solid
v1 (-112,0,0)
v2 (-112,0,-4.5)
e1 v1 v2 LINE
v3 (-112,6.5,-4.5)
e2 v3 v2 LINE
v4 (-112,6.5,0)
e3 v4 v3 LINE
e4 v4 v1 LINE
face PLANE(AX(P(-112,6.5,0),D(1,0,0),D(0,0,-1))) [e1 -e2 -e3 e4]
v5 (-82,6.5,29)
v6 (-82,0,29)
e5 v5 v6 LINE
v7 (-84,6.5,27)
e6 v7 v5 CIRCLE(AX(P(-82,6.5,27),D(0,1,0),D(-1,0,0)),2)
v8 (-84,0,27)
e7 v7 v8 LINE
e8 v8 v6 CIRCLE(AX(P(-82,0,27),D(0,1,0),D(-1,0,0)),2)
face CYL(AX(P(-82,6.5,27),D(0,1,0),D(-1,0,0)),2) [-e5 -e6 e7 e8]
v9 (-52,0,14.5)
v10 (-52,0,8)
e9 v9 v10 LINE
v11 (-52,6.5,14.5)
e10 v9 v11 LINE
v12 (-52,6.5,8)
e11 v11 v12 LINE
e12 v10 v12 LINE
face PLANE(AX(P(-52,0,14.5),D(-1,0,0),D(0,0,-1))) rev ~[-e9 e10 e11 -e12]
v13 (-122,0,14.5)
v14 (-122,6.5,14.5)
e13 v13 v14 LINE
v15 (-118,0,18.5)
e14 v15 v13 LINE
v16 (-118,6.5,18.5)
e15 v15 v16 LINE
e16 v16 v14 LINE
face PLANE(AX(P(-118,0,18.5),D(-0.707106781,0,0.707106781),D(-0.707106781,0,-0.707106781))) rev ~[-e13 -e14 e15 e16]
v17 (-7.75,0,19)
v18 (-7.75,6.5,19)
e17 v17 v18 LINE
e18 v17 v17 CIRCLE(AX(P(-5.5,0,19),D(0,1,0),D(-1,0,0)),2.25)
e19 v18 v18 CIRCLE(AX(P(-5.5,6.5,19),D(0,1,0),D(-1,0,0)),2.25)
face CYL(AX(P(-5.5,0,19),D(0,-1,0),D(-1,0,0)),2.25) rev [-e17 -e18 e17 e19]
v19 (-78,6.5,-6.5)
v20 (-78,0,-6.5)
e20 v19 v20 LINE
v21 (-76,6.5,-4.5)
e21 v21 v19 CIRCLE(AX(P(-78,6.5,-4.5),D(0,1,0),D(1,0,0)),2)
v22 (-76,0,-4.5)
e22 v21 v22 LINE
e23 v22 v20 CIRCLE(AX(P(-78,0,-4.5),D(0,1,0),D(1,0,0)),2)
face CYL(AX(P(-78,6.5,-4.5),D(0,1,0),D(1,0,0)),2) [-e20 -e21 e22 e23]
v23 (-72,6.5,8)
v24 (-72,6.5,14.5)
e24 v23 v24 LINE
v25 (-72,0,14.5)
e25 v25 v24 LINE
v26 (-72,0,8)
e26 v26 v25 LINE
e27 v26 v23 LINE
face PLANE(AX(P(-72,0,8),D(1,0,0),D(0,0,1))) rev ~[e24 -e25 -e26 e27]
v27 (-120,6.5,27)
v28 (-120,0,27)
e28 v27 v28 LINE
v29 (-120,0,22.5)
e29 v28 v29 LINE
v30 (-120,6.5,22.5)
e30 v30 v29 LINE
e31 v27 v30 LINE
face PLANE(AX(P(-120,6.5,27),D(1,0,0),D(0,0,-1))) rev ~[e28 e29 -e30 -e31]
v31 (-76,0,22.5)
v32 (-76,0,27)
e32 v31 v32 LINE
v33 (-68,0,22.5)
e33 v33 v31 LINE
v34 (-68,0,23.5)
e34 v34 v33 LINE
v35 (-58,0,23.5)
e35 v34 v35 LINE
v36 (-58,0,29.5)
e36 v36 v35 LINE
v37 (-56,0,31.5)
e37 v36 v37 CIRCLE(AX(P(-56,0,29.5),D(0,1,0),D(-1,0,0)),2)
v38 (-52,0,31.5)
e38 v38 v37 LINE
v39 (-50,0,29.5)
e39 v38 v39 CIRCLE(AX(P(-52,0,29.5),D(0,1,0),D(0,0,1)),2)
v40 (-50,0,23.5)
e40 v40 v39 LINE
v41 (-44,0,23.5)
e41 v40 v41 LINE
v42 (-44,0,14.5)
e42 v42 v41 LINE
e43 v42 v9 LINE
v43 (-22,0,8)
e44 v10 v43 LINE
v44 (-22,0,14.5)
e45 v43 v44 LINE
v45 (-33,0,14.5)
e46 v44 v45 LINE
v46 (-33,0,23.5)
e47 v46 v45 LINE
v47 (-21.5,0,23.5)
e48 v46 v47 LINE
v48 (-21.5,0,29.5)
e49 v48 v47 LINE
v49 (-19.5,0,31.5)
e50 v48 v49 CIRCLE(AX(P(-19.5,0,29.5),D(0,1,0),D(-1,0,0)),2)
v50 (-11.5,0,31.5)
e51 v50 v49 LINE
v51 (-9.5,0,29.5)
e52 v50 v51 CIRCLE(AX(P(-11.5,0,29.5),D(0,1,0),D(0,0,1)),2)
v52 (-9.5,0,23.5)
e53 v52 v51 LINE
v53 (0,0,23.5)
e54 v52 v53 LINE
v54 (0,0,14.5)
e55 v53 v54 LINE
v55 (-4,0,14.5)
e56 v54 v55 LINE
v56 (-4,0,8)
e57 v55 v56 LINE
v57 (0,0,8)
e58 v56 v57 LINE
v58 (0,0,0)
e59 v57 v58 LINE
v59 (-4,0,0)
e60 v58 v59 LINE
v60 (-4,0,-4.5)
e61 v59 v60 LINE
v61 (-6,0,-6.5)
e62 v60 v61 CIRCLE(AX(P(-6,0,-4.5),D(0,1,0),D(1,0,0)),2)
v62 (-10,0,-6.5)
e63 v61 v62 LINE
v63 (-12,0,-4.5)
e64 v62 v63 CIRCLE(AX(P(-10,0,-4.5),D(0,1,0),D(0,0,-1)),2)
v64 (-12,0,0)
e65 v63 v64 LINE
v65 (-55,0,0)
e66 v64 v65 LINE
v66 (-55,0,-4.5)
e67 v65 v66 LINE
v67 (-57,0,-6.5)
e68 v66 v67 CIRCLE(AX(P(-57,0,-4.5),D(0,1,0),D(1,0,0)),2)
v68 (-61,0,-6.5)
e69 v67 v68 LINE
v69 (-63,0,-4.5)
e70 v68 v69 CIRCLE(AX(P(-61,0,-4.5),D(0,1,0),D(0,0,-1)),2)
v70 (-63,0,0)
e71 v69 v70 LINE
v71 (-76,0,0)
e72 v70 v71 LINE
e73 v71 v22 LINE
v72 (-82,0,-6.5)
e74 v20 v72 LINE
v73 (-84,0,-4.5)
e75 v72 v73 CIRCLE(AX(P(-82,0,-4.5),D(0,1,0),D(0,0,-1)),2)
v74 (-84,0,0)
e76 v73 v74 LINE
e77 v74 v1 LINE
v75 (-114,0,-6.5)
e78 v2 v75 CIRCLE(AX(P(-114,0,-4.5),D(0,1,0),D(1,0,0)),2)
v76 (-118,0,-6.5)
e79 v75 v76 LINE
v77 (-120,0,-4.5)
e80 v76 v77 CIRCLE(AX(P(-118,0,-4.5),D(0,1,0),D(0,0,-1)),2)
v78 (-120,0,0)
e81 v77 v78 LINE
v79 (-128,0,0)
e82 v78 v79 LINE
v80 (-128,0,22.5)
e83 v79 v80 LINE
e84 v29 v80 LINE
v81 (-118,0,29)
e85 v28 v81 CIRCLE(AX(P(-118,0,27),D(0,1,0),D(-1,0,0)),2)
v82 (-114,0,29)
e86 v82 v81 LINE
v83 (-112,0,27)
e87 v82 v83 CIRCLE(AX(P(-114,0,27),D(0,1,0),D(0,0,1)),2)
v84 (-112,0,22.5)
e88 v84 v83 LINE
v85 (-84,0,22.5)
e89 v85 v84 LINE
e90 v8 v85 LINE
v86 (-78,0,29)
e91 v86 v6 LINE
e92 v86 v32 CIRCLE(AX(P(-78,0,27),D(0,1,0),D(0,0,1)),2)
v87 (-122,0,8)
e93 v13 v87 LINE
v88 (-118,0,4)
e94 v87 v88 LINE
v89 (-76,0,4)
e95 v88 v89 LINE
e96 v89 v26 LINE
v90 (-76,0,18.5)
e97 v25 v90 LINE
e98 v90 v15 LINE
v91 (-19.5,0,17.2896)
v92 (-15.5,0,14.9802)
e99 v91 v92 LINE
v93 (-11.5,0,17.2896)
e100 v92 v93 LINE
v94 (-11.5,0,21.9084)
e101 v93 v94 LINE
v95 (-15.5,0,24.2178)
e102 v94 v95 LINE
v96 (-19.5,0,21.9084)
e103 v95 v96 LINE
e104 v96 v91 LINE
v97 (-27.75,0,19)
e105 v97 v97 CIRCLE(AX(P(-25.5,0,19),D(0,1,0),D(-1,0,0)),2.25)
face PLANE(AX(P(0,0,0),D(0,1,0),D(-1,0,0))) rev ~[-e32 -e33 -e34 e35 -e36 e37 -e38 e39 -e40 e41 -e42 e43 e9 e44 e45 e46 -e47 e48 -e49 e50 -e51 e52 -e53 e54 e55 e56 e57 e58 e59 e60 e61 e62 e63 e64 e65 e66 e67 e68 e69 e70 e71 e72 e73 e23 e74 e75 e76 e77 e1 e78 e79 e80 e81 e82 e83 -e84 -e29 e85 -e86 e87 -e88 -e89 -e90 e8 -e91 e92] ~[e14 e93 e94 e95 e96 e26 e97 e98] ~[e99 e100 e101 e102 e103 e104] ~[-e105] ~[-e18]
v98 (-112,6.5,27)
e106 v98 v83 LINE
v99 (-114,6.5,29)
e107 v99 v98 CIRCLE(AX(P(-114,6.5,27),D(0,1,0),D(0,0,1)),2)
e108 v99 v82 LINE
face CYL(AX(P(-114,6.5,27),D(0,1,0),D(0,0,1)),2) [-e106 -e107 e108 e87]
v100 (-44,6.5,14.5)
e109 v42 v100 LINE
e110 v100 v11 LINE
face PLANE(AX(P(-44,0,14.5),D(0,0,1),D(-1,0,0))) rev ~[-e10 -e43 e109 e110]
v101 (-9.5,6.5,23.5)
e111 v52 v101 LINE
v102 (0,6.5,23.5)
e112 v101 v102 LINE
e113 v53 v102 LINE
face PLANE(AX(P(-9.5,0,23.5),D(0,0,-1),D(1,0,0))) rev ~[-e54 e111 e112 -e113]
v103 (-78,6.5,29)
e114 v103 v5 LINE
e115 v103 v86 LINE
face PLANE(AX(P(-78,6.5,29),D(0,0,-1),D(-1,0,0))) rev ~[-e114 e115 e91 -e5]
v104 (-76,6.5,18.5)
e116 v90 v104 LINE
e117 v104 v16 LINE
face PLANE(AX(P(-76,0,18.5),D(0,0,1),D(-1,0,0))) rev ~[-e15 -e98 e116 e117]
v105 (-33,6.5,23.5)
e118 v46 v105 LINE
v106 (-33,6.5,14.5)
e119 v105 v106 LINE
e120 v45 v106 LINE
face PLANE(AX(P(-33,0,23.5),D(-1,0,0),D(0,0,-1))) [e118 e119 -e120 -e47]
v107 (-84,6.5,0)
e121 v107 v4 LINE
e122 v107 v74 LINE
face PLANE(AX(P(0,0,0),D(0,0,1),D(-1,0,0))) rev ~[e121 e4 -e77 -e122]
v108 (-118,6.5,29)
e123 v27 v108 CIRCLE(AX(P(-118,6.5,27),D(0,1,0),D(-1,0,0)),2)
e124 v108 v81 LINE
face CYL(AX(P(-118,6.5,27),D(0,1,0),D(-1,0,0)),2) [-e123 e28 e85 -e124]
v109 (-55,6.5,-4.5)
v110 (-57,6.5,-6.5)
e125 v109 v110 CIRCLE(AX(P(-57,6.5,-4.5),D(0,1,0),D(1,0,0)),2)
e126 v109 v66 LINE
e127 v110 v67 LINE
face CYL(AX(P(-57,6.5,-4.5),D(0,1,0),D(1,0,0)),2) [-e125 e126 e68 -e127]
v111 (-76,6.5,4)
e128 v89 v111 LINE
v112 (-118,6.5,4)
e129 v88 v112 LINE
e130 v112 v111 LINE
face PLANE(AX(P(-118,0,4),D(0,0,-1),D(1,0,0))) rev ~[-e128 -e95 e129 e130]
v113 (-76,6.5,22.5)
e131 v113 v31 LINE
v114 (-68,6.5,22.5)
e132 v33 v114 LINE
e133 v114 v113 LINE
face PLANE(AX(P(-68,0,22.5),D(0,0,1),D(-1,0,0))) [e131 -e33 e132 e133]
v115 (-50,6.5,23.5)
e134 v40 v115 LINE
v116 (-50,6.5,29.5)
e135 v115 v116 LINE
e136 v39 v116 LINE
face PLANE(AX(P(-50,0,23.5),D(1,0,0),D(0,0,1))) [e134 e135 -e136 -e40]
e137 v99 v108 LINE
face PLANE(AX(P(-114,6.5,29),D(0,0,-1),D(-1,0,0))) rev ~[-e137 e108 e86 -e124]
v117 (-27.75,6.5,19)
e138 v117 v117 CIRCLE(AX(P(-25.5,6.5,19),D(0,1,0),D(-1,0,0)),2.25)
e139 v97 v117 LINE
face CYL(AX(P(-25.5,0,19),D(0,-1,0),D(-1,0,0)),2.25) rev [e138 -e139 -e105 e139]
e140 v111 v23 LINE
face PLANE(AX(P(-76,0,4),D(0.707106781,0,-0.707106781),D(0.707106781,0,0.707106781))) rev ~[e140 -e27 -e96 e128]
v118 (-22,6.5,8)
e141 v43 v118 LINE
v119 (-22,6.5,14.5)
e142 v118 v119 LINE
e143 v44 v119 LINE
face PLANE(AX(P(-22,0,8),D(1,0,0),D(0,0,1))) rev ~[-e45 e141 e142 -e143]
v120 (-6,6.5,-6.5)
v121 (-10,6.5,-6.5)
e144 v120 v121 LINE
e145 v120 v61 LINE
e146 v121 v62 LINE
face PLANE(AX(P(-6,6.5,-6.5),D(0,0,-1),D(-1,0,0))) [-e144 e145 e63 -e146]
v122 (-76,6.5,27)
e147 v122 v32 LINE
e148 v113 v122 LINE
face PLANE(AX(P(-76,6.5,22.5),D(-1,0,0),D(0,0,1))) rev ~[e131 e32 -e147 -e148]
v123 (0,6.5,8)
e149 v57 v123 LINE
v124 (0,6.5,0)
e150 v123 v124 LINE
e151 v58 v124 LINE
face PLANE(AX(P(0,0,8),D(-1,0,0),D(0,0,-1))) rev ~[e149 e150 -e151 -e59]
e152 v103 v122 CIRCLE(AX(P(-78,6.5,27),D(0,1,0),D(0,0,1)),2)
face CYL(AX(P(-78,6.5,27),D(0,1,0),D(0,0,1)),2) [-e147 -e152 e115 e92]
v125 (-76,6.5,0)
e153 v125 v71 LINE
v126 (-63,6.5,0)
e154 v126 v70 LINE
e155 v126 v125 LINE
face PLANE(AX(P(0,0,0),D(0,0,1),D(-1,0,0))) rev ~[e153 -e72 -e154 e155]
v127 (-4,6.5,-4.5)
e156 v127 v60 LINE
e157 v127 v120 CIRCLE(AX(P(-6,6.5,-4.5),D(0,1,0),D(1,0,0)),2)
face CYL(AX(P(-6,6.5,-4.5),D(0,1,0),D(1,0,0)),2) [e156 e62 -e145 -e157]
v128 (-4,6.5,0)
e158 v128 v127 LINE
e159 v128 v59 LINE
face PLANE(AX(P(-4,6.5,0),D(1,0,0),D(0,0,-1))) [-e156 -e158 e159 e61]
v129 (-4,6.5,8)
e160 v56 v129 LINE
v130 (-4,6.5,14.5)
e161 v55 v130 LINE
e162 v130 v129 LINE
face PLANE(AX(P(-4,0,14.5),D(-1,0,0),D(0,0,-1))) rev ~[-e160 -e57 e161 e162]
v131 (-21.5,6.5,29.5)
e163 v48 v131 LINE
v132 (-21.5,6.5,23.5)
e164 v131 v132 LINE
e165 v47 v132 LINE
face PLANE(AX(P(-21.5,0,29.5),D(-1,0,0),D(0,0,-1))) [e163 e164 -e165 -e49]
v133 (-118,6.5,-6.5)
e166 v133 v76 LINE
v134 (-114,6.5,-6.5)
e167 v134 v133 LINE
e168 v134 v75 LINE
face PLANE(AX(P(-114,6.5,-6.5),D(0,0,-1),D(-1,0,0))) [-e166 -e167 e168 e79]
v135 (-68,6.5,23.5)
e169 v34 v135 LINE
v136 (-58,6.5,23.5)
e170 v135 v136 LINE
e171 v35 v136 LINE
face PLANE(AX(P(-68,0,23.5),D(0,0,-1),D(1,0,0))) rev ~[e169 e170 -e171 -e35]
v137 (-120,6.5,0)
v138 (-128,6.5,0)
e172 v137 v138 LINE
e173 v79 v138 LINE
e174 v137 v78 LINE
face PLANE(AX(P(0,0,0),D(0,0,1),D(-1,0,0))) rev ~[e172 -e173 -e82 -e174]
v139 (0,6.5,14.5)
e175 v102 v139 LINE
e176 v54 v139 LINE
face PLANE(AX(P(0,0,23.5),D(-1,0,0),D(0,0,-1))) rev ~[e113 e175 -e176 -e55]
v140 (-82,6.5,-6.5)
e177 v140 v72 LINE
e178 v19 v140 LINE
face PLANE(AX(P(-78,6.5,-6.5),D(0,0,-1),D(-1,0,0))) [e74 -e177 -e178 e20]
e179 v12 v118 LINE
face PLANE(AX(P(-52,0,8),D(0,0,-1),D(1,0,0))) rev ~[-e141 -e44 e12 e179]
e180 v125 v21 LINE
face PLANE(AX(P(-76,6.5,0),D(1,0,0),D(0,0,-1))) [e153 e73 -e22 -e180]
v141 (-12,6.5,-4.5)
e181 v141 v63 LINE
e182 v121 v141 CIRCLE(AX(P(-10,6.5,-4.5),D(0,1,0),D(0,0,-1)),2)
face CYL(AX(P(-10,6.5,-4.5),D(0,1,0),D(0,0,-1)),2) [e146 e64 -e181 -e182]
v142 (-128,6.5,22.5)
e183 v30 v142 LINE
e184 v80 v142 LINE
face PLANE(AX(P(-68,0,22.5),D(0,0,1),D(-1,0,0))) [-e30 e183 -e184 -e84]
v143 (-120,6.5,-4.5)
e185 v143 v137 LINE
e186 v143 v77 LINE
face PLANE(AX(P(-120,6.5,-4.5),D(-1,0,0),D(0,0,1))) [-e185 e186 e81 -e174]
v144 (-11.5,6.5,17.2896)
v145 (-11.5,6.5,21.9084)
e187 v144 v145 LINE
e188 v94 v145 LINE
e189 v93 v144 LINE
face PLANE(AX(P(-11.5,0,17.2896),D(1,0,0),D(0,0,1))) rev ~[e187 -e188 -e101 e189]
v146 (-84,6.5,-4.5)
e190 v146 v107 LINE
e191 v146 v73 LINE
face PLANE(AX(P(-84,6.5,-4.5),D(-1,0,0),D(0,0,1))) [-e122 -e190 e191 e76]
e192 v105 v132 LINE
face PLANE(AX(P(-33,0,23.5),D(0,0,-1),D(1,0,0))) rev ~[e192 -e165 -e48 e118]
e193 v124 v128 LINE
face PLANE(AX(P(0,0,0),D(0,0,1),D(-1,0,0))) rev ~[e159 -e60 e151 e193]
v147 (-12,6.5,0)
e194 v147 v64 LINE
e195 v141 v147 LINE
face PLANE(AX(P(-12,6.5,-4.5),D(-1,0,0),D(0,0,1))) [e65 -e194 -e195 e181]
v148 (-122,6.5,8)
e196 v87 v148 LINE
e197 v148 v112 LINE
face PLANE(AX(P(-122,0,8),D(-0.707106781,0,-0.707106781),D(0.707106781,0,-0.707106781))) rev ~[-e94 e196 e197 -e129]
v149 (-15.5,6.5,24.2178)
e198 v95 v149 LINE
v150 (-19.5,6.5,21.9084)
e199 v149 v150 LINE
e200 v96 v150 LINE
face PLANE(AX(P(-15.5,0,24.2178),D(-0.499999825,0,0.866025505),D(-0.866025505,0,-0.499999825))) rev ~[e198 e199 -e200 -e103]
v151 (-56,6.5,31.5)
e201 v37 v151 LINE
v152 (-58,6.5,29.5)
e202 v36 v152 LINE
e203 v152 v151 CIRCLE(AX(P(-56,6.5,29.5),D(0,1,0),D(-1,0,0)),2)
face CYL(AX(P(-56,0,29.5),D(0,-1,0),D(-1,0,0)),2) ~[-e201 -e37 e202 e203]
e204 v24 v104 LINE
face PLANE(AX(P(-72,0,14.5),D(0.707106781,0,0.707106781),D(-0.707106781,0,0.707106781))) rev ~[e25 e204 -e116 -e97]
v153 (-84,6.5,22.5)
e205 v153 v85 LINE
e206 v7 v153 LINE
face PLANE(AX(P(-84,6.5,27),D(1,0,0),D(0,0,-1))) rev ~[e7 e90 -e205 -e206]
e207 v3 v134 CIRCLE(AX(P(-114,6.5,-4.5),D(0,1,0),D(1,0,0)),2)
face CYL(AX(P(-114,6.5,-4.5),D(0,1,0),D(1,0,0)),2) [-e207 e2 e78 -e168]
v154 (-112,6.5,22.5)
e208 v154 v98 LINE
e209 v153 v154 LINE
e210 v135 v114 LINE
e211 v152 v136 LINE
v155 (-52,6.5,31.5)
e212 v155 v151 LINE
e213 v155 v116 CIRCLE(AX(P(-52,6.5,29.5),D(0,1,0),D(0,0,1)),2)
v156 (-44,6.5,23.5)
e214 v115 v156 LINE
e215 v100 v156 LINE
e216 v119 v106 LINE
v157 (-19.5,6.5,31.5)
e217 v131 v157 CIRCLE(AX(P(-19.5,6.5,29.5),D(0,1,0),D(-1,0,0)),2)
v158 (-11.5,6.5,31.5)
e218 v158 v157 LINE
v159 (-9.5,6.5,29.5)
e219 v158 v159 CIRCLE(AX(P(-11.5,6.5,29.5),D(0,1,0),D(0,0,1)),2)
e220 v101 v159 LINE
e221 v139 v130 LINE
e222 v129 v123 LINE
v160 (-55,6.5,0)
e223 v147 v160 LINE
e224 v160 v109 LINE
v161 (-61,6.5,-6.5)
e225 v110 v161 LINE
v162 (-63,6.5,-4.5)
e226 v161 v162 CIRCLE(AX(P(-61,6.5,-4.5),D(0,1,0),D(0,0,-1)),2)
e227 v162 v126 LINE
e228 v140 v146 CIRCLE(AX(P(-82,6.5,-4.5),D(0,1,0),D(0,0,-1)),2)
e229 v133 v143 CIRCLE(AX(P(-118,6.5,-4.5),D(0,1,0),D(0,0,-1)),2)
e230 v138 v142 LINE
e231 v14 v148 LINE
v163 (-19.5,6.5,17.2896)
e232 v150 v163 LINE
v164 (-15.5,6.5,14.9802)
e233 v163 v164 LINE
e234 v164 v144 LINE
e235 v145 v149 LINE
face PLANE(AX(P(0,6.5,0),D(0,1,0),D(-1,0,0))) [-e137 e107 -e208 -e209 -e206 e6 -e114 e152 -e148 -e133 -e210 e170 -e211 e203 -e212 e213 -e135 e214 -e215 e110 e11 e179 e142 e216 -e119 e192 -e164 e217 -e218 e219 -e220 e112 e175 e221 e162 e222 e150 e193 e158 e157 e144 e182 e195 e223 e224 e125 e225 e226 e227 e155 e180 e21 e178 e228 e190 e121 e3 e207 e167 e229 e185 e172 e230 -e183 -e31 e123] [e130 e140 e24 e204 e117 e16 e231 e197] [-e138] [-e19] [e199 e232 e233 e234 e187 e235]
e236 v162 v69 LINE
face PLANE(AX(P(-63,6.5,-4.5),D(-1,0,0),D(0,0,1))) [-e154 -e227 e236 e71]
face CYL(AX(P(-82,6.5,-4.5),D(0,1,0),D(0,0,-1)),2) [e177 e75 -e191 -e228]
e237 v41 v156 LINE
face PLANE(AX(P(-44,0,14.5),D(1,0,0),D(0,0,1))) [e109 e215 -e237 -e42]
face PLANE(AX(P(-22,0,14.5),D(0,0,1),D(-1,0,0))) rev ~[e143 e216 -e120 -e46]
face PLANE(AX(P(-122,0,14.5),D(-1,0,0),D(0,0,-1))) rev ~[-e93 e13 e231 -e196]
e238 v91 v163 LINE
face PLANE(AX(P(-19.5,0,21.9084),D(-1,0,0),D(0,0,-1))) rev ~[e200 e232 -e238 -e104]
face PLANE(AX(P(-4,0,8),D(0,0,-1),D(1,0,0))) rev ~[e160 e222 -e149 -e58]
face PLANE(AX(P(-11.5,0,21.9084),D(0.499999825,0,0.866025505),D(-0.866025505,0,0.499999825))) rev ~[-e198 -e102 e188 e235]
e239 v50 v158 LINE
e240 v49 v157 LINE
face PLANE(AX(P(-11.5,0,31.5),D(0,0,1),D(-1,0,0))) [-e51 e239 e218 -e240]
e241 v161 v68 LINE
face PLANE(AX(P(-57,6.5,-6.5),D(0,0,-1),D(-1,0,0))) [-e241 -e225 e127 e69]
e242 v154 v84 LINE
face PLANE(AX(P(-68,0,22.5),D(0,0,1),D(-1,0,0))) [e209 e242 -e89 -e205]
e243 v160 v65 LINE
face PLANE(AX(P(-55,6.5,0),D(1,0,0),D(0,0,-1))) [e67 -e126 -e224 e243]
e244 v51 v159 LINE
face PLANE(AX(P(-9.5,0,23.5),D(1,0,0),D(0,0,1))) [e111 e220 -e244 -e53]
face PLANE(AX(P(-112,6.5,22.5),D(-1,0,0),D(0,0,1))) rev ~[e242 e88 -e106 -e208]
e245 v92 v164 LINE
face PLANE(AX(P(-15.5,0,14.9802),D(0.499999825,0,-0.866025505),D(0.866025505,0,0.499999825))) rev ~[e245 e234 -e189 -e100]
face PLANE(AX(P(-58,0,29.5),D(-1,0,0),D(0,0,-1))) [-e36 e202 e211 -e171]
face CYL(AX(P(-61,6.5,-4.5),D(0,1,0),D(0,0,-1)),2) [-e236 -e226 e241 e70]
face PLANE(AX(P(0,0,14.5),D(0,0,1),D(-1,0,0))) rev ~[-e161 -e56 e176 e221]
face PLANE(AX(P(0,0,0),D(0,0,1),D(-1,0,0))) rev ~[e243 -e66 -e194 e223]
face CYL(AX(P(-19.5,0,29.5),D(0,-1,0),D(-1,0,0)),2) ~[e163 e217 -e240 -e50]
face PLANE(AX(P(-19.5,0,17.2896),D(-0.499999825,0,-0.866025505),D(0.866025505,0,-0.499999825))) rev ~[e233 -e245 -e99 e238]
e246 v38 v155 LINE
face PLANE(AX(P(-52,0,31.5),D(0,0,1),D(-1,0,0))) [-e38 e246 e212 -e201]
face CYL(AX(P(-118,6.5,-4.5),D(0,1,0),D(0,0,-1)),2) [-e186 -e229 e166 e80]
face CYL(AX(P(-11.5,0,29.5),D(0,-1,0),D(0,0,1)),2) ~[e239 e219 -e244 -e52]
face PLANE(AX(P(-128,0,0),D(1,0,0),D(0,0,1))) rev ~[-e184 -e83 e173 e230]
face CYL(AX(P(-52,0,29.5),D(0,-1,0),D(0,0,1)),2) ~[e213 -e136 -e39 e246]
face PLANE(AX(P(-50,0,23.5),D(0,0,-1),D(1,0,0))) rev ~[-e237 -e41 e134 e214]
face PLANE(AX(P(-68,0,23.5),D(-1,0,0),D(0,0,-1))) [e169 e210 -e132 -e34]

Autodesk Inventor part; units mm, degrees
ref_plane "YZ Plane" through (0, 0, 0) normal (1, 0, 0) x (0, 1, 0)
ref_plane "XZ Plane" through (0, 0, 0) normal (0, 1, 0) x (-1, 0, 0)
ref_plane "XY Plane" through (0, 0, 0) normal (0, 0, 1) x (1, 0, 0)
sketch "Sketch1" plane through (0, 0, 0) normal (0, 1, 0) x (-1, 0, 0)
  line L0 (0, 0) -> (128, 0)
  line L1 (128, 0) -> (128, 22.5)
  line L2 (52, 14.5) -> (52, 8)
  line L3 (52, 8) -> (22, 8)
  line L4 (22, 8) -> (22, 14.5)
  circle A0 centre (5.5, 19) radius 2.25
  circle A1 centre (5.5, 19) radius 4.5 construction
  circle A2 centre (25.5, 19) radius 2.25
  circle A3 centre (25.5, 19) radius 4.5 construction
  line L5 (33, 14.5) -> (44, 14.5) construction
  circle A4 centre (38.5, 19.599) radius 7.5 construction
  circle A5 centre (38.5, 19.599) radius 4 construction
  line L6 (33, 23.5) -> (33, 14.5)
  line L7 (44, 14.5) -> (44, 23.5)
  line L8 (22, 14.5) -> (33, 14.5)
  line L9 (44, 14.5) -> (52, 14.5)
  line L10 (0, 14.5) -> (4, 14.5)
  line L11 (4, 14.5) -> (4, 8)
  line L12 (4, 8) -> (0, 8)
  line L13 (0, 23.5) -> (0, 14.5)
  line L14 (0, 8) -> (0, 0)
  line L15 (9.5, 23.5) -> (9.5, 29.5)
  line L16 (11.5, 31.5) -> (19.5, 31.5)
  line L17 (21.5, 29.5) -> (21.5, 23.5)
  arc A6 (11.5, 31.5) -> (9.5, 29.5) centre (11.5, 29.5) ccw
  arc A7 (21.5, 29.5) -> (19.5, 31.5) centre (19.5, 29.5) ccw
  line L18 (33, 23.5) -> (21.5, 23.5)
  line L19 (9.5, 23.5) -> (0, 23.5)
  line L20 (50, 23.5) -> (50, 29.5)
  line L21 (52, 31.5) -> (56, 31.5)
  line L22 (58, 29.5) -> (58, 23.5)
  arc A8 (52, 31.5) -> (50, 29.5) centre (52, 29.5) ccw
  arc A9 (58, 29.5) -> (56, 31.5) centre (56, 29.5) ccw
  line L23 (68, 23.5) -> (58, 23.5)
  line L24 (50, 23.5) -> (44, 23.5)
  line L25 (68, 23.5) -> (68, 22.5)
  line L26 (68, 22.5) -> (128, 22.5)
  line L27 (19.5, 17.2896) -> (15.5, 14.9802)
  line L28 (15.5, 14.9802) -> (11.5, 17.2896)
  line L29 (11.5, 17.2896) -> (11.5, 21.9084)
  line L30 (11.5, 21.9084) -> (15.5, 24.2178)
  line L31 (15.5, 24.2178) -> (19.5, 21.9084)
  line L32 (19.5, 21.9084) -> (19.5, 17.2896)
  point P0 (15.5, 19.599)
  point P1 (0, 19)
  point P2 (15.5, 31.5)
  point P3 (15.5, 19.599)
  dimension "d0" = 6.5
  dimension "d1" = 8
  dimension "d3" = 4.5
  dimension "d4" = 9
  dimension "d5" = 4.5
  dimension "d6" = 9
  dimension "d8" = 11
  dimension "d9" = 8
  dimension "d10" = 15
  dimension "d11" = 9
  dimension "d12" = 4
  dimension "d13" = 5.5
  dimension "d14" = 10
  dimension "d15" = 10
  dimension "d16" = 2
  dimension "d17" = 12
  dimension "d18" = 8
  dimension "d19" = 23
  dimension "d20" = 30
  dimension "d21" = 18
  dimension "d23" = 2
  dimension "d24" = 8
  dimension "d25" = 6
  dimension "d26" = 8
  dimension "d27" = 10
  dimension "d29" = 60
  dimension "d30" = 8
extrude "Extrusion1" add sketch "Sketch1" along normal blind 6.5
sketch "Sketch2" plane through (0, 6.5, 0) normal (0, 1, 0) x (1, 0, 0)
  line L0 (-128, 0) -> (-128, -22.5) projected
  line L1 (-128, -22.5) -> (-68, -22.5) projected
  line L2 (-68, -22.5) -> (-68, -23.5) projected
  line L3 (-120, -22.5) -> (-112, -22.5)
  line L4 (-112, -22.5) -> (-112, -27)
  line L5 (-114, -29) -> (-118, -29)
  line L6 (-120, -27) -> (-120, -22.5)
  line L7 (-84, -22.5) -> (-76, -22.5)
  line L8 (-76, -22.5) -> (-76, -27)
  line L9 (-78, -29) -> (-82, -29)
  line L10 (-84, -27) -> (-84, -22.5)
  arc A0 (-84, -27) -> (-82, -29) centre (-82, -27) ccw
  arc A1 (-78, -29) -> (-76, -27) centre (-78, -27) ccw
  arc A2 (-114, -29) -> (-112, -27) centre (-114, -27) ccw
  arc A3 (-120, -27) -> (-118, -29) centre (-118, -27) ccw
  dimension "d33" = 2
  dimension "d34" = 8
  dimension "d35" = 6.5
  dimension "d36" = 8
  dimension "d37" = 8
  dimension "d38" = 8
extrude "Extrusion2" add sketch "Sketch2" against normal blind 6.5
sketch "Sketch3" plane through (0, 6.5, 0) normal (0, 1, 0) x (1, 0, 0)
  line L0 (0, 0) -> (-128, 0) projected
  line L1 (-112, -27) -> (-112, -22.5) projected
  line L2 (-76, -27) -> (-76, -22.5) projected
  line L3 (0, -8) -> (0, 0) projected
  line L4 (-120, 0) -> (-112, 0)
  line L5 (-112, 0) -> (-112, 4.5)
  line L6 (-114, 6.5) -> (-118, 6.5)
  line L7 (-120, 4.5) -> (-120, 0)
  line L8 (-84, 0) -> (-76, 0)
  line L9 (-76, 0) -> (-76, 4.5)
  line L10 (-78, 6.5) -> (-82, 6.5)
  line L11 (-84, 4.5) -> (-84, 0)
  line L12 (-63, 0) -> (-55, 0)
  line L13 (-55, 0) -> (-55, 4.5)
  line L14 (-57, 6.5) -> (-61, 6.5)
  line L15 (-63, 4.5) -> (-63, 0)
  line L16 (-12, 0) -> (-4, 0)
  line L17 (-4, 0) -> (-4, 4.5)
  line L18 (-6, 6.5) -> (-10, 6.5)
  line L19 (-12, 4.5) -> (-12, 0)
  arc A0 (-118, 6.5) -> (-120, 4.5) centre (-118, 4.5) ccw
  arc A1 (-112, 4.5) -> (-114, 6.5) centre (-114, 4.5) ccw
  arc A2 (-82, 6.5) -> (-84, 4.5) centre (-82, 4.5) ccw
  arc A3 (-76, 4.5) -> (-78, 6.5) centre (-78, 4.5) ccw
  arc A4 (-61, 6.5) -> (-63, 4.5) centre (-61, 4.5) ccw
  arc A5 (-55, 4.5) -> (-57, 6.5) centre (-57, 4.5) ccw
  arc A6 (-10, 6.5) -> (-12, 4.5) centre (-10, 4.5) ccw
  arc A7 (-4, 4.5) -> (-6, 6.5) centre (-6, 4.5) ccw
  dimension "d41" = 2
  dimension "d42" = 6.5
  dimension "d43" = 8
  dimension "d44" = 8
  dimension "d45" = 8
  dimension "d46" = 8
  dimension "d47" = 4
  dimension "d48" = 43
extrude "Extrusion3" add sketch "Sketch3" against normal blind 6.5
sketch "Sketch4" plane through (0, 0, 0) normal (0, -1, 0) x (1, 0, 0)
  line L0 (-112, 22.5) -> (-84, 22.5) projected
  line L1 (-128, 0) -> (-128, 22.5) projected
  line L2 (-84, 0) -> (-112, 0) projected
  line L3 (-63, 0) -> (-76, 0) projected
  line L4 (-4, -4.5) -> (-4, 0) projected
  line L5 (-122, 14.5) -> (-122, 8)
  line L6 (-122, 8) -> (-118, 4)
  line L7 (-118, 4) -> (-76, 4)
  line L8 (-76, 4) -> (-72, 8)
  line L9 (-72, 8) -> (-72, 14.5)
  line L10 (-72, 14.5) -> (-76, 18.5)
  line L11 (-76, 18.5) -> (-118, 18.5)
  line L12 (-118, 18.5) -> (-122, 14.5)
  line L13 (-68, 22.5) -> (-68, 0) construction
  dimension "d52" = 45
  dimension "d53" = 4
  dimension "d54" = 4
  dimension "d55" = 6
  dimension "d56" = 4
  dimension "d57" = 4
extrude "Extrusion4" cut sketch "Sketch4" against normal blind 6.5
properties part number "x_iddler_wall_upper"
